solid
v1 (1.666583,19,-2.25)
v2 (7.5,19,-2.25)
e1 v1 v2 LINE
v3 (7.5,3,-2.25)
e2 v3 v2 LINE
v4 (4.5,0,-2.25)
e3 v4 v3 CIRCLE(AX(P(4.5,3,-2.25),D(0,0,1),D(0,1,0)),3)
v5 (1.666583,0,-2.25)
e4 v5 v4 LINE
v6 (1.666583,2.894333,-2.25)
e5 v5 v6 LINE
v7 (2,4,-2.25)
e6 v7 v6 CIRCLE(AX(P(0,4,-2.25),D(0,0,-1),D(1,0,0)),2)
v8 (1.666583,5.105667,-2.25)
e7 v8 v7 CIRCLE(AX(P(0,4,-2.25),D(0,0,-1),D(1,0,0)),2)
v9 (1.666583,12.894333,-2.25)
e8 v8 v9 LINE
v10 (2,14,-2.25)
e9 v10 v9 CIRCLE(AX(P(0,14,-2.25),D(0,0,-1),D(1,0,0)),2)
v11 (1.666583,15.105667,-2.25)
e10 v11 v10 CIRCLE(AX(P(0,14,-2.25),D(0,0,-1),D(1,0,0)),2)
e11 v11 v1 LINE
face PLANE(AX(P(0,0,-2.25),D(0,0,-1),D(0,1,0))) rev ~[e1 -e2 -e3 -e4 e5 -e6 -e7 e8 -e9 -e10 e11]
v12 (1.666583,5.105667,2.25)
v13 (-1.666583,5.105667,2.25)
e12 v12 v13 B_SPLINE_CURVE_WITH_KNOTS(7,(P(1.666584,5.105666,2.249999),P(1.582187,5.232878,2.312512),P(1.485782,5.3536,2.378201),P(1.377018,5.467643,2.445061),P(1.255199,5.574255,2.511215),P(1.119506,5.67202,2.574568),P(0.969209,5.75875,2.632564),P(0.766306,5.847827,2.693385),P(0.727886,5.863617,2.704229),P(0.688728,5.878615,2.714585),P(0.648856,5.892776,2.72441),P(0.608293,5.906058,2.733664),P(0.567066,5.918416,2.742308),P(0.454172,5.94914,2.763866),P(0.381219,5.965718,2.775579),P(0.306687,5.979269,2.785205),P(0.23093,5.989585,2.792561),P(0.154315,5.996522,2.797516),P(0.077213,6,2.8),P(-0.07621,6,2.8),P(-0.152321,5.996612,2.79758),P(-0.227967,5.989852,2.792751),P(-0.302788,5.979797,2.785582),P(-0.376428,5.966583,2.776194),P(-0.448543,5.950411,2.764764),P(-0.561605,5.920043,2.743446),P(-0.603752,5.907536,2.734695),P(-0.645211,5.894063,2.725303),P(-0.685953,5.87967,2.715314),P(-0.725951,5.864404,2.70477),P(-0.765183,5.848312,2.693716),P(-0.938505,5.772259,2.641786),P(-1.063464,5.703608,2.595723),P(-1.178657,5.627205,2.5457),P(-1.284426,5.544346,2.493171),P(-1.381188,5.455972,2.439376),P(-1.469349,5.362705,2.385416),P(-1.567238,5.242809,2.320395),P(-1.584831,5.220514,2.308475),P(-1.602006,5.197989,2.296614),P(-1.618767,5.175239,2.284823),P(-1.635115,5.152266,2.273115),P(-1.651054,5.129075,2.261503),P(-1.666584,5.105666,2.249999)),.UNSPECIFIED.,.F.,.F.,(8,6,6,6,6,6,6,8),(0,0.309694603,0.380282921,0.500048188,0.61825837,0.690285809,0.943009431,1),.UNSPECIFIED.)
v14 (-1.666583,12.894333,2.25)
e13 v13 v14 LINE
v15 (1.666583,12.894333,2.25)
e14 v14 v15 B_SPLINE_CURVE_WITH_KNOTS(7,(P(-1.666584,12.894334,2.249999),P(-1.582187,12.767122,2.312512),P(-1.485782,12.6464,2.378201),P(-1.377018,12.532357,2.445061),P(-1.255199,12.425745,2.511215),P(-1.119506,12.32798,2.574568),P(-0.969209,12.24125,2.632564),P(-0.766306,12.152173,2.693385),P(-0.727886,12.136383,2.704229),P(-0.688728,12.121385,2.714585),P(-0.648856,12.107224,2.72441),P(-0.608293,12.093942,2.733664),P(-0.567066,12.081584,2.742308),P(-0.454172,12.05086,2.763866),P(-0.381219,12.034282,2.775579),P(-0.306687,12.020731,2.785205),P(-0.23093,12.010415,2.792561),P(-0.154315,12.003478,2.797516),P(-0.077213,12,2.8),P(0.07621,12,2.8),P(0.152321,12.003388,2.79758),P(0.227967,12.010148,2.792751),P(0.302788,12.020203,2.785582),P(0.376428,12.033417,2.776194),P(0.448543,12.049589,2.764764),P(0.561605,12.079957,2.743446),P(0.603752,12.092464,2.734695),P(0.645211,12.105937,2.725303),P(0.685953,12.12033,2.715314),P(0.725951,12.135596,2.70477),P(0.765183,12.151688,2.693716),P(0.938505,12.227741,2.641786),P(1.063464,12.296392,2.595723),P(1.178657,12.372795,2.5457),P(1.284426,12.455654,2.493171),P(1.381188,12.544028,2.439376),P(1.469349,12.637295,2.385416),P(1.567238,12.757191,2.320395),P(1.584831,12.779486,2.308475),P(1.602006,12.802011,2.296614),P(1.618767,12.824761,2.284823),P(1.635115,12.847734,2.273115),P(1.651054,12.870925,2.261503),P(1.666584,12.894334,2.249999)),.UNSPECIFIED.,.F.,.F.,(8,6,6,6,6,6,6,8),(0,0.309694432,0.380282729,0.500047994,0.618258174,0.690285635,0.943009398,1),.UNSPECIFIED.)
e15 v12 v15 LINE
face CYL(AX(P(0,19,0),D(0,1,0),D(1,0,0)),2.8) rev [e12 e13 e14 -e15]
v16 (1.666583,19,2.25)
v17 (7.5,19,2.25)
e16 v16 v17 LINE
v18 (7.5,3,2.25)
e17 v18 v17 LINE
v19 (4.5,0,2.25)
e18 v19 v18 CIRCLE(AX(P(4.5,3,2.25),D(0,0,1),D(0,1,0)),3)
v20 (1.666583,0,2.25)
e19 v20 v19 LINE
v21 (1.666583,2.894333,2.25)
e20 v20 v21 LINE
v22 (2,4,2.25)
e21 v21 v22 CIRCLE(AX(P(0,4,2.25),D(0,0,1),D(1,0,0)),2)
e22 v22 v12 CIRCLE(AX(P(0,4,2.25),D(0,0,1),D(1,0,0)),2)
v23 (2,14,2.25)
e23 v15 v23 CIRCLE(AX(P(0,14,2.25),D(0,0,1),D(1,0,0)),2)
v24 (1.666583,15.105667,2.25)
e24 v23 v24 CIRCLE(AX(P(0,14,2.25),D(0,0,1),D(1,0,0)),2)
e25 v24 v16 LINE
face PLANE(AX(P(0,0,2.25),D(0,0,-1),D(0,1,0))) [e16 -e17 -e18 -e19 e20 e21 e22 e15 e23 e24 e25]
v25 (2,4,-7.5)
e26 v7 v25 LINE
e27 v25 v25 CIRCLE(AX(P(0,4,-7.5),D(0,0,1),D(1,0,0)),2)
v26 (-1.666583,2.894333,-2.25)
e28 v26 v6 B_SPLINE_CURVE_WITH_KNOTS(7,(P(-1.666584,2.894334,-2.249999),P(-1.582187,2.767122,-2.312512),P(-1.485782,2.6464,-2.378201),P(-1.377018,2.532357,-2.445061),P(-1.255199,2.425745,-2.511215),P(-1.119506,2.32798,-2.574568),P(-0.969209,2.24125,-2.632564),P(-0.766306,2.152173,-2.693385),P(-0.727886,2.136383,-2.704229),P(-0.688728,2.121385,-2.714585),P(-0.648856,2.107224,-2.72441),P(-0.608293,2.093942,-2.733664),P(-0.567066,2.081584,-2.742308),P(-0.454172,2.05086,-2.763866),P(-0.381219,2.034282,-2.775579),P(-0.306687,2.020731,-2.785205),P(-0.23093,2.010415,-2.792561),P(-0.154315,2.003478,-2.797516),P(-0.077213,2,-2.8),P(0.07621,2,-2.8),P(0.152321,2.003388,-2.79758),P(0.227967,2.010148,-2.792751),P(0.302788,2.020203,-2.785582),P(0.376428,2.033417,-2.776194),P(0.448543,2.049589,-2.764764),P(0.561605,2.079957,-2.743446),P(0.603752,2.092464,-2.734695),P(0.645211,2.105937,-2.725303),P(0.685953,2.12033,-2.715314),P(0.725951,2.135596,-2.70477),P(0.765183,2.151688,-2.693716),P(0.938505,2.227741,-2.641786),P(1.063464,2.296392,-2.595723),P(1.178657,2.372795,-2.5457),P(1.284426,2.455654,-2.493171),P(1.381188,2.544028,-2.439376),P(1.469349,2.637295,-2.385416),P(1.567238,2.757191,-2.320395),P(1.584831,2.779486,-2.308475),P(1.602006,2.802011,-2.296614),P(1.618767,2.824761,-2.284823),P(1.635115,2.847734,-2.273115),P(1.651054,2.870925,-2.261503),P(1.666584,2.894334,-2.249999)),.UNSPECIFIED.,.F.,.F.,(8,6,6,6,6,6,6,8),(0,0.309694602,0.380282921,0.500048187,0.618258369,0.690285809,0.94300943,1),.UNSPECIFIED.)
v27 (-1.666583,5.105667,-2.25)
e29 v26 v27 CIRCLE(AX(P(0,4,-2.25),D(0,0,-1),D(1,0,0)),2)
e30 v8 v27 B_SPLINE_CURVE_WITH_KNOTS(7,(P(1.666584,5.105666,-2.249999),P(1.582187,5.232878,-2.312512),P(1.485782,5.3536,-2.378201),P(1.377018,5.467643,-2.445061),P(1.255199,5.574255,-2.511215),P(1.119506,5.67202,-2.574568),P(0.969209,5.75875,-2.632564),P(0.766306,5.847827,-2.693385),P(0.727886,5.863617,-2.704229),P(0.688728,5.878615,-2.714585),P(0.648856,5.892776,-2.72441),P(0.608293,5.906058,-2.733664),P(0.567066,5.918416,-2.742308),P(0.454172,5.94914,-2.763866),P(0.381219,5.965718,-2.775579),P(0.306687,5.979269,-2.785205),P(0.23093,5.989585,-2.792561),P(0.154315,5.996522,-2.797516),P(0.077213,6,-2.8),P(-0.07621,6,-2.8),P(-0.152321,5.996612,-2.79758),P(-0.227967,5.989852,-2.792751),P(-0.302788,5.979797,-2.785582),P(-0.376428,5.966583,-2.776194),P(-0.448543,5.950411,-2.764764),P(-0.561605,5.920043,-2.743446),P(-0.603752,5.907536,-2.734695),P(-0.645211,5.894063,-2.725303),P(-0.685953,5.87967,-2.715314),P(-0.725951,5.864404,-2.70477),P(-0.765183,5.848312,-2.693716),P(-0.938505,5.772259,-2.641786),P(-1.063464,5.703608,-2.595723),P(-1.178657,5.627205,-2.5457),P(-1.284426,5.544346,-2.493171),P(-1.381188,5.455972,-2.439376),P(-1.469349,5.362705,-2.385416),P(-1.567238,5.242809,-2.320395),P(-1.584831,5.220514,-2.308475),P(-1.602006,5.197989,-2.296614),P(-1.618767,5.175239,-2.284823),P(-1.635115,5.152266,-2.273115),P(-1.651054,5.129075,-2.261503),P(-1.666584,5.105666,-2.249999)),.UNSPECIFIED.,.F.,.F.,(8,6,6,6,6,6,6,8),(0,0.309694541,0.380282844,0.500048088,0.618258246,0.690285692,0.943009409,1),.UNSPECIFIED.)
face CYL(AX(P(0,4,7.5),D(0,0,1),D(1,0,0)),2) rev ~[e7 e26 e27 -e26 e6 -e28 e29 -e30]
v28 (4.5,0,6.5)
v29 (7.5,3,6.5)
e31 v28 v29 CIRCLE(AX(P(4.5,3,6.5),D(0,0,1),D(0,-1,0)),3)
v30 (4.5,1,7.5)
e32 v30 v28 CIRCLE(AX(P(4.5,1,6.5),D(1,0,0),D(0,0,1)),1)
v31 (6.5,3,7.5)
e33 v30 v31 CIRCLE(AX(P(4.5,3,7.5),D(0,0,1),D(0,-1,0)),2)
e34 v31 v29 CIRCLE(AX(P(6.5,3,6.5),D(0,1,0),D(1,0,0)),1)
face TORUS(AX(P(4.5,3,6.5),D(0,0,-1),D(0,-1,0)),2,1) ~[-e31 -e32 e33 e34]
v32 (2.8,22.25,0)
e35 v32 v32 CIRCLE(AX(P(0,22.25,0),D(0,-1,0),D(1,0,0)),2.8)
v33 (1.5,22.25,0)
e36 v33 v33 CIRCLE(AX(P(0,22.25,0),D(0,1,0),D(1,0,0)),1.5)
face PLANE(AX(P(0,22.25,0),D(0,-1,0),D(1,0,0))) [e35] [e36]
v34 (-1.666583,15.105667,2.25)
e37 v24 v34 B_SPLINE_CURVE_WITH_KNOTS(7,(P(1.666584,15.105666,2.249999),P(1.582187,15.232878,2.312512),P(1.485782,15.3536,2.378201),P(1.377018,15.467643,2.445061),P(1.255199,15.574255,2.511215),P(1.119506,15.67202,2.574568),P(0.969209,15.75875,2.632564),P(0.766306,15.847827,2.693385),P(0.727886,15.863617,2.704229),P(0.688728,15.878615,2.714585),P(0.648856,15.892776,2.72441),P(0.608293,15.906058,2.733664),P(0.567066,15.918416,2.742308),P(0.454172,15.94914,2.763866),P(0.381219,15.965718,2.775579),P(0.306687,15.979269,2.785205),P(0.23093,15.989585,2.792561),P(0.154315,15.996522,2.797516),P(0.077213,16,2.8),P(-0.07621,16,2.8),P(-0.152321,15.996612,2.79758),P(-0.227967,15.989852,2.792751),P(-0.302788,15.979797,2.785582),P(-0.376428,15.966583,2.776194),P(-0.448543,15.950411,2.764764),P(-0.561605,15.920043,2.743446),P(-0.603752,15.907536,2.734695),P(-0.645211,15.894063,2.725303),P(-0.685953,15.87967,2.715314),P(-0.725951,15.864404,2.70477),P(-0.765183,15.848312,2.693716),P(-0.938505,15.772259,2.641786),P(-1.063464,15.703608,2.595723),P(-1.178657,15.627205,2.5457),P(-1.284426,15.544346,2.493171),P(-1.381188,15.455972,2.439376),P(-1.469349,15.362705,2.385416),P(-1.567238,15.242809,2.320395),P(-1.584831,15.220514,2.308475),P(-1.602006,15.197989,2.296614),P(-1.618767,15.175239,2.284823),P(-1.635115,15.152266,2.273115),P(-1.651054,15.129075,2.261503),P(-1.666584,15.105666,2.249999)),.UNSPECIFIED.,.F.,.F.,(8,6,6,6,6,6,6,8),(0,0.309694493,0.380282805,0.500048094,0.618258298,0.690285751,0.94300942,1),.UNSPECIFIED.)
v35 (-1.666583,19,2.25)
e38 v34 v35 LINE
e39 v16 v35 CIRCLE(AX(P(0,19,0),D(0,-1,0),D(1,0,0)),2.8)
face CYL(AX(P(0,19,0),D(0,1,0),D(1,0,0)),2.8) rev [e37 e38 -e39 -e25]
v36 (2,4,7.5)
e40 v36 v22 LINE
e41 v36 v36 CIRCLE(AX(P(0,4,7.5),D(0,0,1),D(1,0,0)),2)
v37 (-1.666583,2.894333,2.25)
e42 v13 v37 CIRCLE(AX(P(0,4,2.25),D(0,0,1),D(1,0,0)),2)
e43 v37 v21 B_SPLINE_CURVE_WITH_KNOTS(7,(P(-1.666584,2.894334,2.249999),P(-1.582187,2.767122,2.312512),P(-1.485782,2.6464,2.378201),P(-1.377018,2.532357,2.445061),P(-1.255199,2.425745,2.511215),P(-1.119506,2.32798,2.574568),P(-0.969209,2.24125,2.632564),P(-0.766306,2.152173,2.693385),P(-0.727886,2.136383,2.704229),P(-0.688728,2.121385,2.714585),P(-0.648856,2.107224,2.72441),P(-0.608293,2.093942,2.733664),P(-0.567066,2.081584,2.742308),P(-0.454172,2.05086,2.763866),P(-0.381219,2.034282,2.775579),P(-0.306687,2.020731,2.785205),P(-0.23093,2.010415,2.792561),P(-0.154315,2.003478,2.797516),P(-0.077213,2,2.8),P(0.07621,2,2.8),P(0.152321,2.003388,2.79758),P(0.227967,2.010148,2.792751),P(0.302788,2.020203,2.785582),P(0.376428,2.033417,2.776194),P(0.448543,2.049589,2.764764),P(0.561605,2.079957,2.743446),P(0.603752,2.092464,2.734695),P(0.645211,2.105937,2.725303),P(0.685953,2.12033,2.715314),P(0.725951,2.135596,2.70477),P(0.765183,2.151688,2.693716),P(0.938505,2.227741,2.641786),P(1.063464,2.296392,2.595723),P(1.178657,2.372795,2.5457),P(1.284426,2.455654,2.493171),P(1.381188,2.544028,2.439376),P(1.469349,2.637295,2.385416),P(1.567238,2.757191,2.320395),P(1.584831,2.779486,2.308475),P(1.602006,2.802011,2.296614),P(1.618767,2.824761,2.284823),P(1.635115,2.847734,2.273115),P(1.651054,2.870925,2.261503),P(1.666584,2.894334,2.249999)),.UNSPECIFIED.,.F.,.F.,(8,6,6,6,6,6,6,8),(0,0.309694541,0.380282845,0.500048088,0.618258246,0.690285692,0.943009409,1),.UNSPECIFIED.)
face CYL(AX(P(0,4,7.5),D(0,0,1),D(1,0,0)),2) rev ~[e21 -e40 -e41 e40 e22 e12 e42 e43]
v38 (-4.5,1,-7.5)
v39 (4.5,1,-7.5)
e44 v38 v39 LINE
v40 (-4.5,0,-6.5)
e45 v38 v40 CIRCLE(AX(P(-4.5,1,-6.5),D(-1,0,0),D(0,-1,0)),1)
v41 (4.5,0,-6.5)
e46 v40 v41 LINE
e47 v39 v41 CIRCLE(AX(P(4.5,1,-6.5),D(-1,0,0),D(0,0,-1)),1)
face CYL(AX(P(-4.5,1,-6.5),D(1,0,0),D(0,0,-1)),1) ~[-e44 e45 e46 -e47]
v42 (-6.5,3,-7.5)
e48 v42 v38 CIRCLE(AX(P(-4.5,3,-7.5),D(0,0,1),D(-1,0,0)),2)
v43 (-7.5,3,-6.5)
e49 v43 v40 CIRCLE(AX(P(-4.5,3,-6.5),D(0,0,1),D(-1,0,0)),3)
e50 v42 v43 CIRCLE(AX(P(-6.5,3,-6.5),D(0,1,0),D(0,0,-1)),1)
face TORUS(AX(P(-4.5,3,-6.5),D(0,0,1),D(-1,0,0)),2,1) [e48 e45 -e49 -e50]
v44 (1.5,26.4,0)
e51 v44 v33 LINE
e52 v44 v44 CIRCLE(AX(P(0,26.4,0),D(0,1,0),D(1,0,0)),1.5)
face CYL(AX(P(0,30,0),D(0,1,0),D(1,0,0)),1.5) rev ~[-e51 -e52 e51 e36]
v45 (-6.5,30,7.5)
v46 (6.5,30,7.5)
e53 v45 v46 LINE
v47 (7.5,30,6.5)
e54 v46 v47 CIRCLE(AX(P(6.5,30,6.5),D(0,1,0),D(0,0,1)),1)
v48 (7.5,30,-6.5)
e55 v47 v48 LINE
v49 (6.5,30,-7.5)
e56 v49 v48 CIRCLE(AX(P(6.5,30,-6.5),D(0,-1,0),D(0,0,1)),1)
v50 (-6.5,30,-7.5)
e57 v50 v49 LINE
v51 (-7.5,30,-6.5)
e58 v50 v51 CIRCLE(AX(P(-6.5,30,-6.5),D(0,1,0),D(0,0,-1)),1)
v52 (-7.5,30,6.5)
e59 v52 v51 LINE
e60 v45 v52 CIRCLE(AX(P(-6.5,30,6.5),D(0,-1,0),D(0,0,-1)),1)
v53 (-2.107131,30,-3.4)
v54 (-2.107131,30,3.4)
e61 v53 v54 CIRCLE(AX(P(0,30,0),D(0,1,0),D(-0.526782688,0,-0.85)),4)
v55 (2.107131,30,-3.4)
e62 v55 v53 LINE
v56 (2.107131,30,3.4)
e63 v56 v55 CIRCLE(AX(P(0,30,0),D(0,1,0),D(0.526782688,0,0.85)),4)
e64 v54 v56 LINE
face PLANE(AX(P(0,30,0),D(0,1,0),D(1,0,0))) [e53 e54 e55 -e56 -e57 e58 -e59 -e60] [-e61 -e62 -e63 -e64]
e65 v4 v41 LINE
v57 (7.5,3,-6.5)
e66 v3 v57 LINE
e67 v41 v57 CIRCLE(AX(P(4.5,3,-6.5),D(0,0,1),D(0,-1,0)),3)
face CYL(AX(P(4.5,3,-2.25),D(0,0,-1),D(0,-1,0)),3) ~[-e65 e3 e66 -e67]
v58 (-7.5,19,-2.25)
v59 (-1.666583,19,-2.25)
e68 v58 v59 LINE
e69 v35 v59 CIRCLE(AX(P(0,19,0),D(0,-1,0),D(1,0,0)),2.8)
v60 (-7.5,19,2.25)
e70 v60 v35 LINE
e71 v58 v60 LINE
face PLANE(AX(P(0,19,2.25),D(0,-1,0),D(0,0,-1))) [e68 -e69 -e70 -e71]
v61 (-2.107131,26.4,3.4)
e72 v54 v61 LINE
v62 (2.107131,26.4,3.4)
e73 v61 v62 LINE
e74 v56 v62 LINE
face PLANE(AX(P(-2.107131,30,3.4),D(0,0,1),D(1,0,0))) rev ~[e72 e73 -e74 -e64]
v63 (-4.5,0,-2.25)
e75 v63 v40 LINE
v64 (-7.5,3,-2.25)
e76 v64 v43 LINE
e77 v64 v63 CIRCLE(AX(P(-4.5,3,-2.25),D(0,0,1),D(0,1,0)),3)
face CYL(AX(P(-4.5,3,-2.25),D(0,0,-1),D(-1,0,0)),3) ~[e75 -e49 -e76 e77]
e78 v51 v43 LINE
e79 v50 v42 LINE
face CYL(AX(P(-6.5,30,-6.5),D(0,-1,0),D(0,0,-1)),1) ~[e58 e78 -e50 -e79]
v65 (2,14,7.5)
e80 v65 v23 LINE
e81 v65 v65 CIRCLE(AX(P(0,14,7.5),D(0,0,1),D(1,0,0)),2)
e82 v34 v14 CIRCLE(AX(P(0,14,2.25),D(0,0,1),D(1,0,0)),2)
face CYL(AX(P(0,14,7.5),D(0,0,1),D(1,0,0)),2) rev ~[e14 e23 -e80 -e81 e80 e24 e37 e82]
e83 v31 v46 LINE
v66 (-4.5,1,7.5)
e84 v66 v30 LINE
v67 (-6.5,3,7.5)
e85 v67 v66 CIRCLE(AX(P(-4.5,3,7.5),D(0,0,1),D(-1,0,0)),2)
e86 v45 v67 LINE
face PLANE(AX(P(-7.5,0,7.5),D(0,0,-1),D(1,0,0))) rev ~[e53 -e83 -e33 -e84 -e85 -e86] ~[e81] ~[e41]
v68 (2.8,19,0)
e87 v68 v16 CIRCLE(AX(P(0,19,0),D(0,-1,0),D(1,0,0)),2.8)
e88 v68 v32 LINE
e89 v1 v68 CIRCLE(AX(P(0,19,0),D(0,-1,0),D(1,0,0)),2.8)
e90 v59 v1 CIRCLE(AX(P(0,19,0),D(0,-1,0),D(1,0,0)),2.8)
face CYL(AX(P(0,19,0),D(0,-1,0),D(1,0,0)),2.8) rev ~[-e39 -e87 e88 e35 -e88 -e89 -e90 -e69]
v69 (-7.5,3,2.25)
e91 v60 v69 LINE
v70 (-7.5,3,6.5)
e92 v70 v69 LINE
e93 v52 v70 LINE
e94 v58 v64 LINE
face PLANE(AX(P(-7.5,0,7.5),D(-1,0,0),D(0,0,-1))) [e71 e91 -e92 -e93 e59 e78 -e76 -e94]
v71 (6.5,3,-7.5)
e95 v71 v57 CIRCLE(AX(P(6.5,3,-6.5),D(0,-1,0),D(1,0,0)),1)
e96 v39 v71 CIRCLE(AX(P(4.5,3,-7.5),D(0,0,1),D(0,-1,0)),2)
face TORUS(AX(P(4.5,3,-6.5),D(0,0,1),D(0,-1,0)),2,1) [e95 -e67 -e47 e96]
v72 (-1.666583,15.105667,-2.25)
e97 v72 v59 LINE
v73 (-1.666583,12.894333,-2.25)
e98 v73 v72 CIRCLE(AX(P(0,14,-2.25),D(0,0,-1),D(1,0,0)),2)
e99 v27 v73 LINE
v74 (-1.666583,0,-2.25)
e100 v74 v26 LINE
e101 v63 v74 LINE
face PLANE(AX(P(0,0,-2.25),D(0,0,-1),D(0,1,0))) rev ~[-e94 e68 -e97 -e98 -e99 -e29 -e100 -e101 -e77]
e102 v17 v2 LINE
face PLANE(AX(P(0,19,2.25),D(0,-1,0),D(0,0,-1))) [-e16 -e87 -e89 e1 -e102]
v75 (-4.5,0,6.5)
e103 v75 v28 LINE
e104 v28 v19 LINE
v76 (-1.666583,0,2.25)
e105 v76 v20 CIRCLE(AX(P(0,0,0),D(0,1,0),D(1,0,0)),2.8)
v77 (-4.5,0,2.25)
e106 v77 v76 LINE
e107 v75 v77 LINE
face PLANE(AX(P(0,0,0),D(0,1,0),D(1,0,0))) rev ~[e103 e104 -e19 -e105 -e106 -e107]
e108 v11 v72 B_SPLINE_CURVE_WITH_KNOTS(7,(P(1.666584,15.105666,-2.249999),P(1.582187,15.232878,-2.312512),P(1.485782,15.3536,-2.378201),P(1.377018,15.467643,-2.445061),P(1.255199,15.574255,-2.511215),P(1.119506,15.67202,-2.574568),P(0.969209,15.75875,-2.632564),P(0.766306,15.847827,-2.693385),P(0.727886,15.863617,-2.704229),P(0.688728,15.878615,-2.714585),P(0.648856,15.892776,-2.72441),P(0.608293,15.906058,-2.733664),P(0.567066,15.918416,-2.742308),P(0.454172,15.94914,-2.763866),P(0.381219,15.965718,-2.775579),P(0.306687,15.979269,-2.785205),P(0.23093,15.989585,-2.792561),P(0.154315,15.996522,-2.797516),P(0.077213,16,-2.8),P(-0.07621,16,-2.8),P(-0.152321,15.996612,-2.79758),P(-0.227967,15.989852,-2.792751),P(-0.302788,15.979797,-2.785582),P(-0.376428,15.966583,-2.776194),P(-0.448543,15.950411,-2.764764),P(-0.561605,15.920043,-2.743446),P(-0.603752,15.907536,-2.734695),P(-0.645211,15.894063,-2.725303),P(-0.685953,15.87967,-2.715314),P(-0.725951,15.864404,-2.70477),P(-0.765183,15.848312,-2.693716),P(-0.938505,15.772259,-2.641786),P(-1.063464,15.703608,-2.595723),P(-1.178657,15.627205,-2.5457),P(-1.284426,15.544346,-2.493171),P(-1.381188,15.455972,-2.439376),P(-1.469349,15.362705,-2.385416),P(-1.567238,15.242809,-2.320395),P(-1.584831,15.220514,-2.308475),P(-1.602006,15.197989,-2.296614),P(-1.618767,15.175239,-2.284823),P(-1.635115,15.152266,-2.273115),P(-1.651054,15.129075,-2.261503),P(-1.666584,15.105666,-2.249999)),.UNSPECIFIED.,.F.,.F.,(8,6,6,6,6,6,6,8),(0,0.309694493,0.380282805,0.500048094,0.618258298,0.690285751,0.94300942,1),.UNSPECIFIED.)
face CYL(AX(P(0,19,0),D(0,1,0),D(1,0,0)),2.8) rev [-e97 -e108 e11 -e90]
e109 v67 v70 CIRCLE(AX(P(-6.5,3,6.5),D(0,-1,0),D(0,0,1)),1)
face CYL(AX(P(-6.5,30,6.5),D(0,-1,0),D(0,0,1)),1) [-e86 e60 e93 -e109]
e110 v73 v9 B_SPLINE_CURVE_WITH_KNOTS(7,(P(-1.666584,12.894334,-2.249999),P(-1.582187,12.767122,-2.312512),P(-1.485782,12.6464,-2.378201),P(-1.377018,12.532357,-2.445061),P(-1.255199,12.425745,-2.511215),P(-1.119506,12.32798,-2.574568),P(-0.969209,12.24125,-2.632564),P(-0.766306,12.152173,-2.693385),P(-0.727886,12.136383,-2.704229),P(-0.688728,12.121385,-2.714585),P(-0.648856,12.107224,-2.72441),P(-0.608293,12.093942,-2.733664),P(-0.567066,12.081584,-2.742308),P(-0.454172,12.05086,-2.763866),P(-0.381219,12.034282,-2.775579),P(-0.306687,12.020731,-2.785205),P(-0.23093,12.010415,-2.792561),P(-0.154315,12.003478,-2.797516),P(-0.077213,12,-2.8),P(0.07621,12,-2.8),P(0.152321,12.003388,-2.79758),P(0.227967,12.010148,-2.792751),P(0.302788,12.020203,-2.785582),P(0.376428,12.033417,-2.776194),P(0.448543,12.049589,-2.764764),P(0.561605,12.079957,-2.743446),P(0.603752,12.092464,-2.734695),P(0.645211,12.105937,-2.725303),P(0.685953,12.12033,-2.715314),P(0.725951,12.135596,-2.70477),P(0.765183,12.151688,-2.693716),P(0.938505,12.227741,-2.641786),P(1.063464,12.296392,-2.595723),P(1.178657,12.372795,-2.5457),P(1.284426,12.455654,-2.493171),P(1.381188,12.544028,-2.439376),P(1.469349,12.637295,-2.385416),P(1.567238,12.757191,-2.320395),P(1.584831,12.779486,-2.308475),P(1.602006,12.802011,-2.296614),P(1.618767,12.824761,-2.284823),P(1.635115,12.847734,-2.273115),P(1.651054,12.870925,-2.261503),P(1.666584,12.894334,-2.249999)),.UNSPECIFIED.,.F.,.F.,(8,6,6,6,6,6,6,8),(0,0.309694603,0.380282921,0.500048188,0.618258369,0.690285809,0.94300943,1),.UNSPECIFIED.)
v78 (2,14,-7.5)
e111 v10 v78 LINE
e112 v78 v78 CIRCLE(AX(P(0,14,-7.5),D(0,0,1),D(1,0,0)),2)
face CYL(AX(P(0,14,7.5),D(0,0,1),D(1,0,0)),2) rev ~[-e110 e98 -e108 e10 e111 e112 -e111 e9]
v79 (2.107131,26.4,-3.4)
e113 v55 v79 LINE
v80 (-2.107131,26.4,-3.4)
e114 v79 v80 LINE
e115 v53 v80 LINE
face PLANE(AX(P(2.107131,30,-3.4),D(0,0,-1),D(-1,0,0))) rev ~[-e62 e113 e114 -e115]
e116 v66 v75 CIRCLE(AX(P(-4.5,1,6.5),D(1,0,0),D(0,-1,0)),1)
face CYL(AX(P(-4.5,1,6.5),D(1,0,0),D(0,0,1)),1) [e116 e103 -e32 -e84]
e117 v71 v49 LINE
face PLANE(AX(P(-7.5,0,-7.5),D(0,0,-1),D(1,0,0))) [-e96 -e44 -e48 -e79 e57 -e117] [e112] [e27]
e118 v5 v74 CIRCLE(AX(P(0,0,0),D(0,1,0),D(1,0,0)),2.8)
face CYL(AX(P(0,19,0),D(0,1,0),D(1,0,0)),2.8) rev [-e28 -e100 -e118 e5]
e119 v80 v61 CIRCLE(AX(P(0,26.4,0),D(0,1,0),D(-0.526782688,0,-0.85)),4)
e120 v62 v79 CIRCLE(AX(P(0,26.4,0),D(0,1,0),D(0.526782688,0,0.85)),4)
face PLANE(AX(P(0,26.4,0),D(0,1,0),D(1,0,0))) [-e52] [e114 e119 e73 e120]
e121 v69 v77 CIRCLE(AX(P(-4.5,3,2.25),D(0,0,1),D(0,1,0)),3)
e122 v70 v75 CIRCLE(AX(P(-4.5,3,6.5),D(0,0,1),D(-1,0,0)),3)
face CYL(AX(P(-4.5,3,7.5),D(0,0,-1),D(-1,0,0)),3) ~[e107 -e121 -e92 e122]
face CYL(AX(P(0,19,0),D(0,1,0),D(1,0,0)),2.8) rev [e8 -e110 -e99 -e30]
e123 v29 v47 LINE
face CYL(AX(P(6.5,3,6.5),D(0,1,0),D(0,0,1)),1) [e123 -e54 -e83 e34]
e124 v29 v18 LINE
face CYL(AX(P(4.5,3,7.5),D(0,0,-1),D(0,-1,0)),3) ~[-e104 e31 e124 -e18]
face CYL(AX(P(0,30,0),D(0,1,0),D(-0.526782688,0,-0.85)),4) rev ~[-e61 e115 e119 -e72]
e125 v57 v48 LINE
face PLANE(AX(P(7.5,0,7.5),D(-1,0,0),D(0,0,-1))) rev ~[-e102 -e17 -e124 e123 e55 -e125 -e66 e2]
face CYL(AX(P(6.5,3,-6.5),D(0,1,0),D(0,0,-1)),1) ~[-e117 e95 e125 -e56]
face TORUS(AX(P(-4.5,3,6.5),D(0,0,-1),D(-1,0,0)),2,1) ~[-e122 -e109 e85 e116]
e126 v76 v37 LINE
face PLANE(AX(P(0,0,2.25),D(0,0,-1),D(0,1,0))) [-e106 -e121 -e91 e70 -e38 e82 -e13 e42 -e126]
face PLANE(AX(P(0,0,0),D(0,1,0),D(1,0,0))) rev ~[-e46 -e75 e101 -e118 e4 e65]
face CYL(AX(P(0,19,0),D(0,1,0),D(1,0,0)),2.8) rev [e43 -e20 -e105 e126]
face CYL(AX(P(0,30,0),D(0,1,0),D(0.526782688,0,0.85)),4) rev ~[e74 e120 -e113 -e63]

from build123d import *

# Parameters (mm, degrees)
SKETCH2_W               = 15
SKETCH2_H               = 15
BOSS_EXTRUDE3_DEPTH     = 30
SKETCH1_R               = 2
CUT_EXTRUDE1_DEPTH      = 16
SKETCH3_W               = 4.5
SKETCH3_H               = 19
CUT_EXTRUDE2_DEPTH      = 8.5
CUT_EXTRUDE2_DEPTH_BACK = 8.5
SKETCH5_R               = 1.5
CUT_EXTRUDE3_DEPTH      = 3.6
SKETCH5_2_R             = 1.5
CUT_EXTRUDE4_DEPTH      = 31
FILLET3_R               = 3
FILLET1_R               = 1
SKETCH6_R               = 2.8
CUT_EXTRUDE5_DEPTH      = 20
CUT_EXTRUDE5_DEPTH_BACK = 3.25


with BuildPart() as part:
    # Sketch2 → Boss-Extrude3 (new body)
    with BuildSketch(Plane(origin=(0, 0, 0), x_dir=(1, 0, 0), z_dir=(0, 1, 0))):
        Rectangle(SKETCH2_W, SKETCH2_H)
    extrude(amount=BOSS_EXTRUDE3_DEPTH)

    # Sketch1 → Cut-Extrude1 (cut, through all)
    with BuildSketch(Plane.XY.offset(7.5)):
        with Locations((0, 4)):
            Circle(SKETCH1_R)
        with Locations((0, 14)):
            Circle(SKETCH1_R)
    extrude(amount=-CUT_EXTRUDE1_DEPTH, mode=Mode.SUBTRACT)

    # Sketch3 → Cut-Extrude2 (cut, two sides)
    with BuildSketch(Plane(origin=(0, 0, 0), x_dir=(0, 0, -1), z_dir=(1, 0, 0))) as cut_extrude2_sk:
        with Locations((0, 9.5)):
            Rectangle(SKETCH3_W, SKETCH3_H)
    extrude(amount=CUT_EXTRUDE2_DEPTH, mode=Mode.SUBTRACT)
    extrude(cut_extrude2_sk.sketch, amount=-CUT_EXTRUDE2_DEPTH_BACK, mode=Mode.SUBTRACT)

    # Sketch5 → Cut-Extrude3 (cut)
    with BuildSketch(Plane(origin=(0, 30, 0), x_dir=(1, 0, 0), z_dir=(0, 1, 0))):
        with BuildLine():
            Line((-2.107130751, -3.4), (2.107130751, -3.4))
            ThreePointArc((2.107130751, -3.4), (4, 0), (2.107130751, 3.4))
            Line((2.107130751, 3.4), (-2.107130751, 3.4))
            ThreePointArc((-2.107130751, 3.4), (-4, 0), (-2.107130751, -3.4))
        make_face()
        Circle(SKETCH5_R, mode=Mode.SUBTRACT)
    extrude(amount=-CUT_EXTRUDE3_DEPTH, mode=Mode.SUBTRACT)

    # Sketch5<2> → Cut-Extrude4 (cut, through all)
    with BuildSketch(Plane(origin=(0, 30, 0), x_dir=(1, 0, 0), z_dir=(0, 1, 0))):
        Circle(SKETCH5_2_R)
    extrude(amount=-CUT_EXTRUDE4_DEPTH, mode=Mode.SUBTRACT)

    # Fillet3
    fillet3_edges = [part.edges().sort_by_distance(p)[0] for p in [
        (7.5, 0, -4.875),
        (-7.5, 0, 4.875),
        (-7.5, 0, -4.875),
        (7.5, 0, 4.875),
    ]]
    fillet(fillet3_edges, radius=FILLET3_R)

    # Fillet1
    fillet1_edges = [part.edges().sort_by_distance(p)[0] for p in [
        (0, 0, -7.5),
        (6.621320344, 0.878679656, -7.5),
        (-6.621320344, 0.878679656, -7.5),
        (7.5, 16.5, 7.5),
        (-7.5, 16.5, 7.5),
        (0, 0, 7.5),
        (-7.5, 16.5, -7.5),
        (7.5, 16.5, -7.5),
        (-6.621320344, 0.878679656, 7.5),
        (6.621320344, 0.878679656, 7.5),
    ]]
    fillet(fillet1_edges, radius=FILLET1_R)

    # Sketch6 → Cut-Extrude5 (cut, two sides)
    with BuildSketch(Plane.XZ.offset(-19)) as cut_extrude5_sk:
        Circle(SKETCH6_R)
    extrude(amount=CUT_EXTRUDE5_DEPTH, mode=Mode.SUBTRACT)
    extrude(cut_extrude5_sk.sketch, amount=-CUT_EXTRUDE5_DEPTH_BACK, mode=Mode.SUBTRACT)


solid = part.part
